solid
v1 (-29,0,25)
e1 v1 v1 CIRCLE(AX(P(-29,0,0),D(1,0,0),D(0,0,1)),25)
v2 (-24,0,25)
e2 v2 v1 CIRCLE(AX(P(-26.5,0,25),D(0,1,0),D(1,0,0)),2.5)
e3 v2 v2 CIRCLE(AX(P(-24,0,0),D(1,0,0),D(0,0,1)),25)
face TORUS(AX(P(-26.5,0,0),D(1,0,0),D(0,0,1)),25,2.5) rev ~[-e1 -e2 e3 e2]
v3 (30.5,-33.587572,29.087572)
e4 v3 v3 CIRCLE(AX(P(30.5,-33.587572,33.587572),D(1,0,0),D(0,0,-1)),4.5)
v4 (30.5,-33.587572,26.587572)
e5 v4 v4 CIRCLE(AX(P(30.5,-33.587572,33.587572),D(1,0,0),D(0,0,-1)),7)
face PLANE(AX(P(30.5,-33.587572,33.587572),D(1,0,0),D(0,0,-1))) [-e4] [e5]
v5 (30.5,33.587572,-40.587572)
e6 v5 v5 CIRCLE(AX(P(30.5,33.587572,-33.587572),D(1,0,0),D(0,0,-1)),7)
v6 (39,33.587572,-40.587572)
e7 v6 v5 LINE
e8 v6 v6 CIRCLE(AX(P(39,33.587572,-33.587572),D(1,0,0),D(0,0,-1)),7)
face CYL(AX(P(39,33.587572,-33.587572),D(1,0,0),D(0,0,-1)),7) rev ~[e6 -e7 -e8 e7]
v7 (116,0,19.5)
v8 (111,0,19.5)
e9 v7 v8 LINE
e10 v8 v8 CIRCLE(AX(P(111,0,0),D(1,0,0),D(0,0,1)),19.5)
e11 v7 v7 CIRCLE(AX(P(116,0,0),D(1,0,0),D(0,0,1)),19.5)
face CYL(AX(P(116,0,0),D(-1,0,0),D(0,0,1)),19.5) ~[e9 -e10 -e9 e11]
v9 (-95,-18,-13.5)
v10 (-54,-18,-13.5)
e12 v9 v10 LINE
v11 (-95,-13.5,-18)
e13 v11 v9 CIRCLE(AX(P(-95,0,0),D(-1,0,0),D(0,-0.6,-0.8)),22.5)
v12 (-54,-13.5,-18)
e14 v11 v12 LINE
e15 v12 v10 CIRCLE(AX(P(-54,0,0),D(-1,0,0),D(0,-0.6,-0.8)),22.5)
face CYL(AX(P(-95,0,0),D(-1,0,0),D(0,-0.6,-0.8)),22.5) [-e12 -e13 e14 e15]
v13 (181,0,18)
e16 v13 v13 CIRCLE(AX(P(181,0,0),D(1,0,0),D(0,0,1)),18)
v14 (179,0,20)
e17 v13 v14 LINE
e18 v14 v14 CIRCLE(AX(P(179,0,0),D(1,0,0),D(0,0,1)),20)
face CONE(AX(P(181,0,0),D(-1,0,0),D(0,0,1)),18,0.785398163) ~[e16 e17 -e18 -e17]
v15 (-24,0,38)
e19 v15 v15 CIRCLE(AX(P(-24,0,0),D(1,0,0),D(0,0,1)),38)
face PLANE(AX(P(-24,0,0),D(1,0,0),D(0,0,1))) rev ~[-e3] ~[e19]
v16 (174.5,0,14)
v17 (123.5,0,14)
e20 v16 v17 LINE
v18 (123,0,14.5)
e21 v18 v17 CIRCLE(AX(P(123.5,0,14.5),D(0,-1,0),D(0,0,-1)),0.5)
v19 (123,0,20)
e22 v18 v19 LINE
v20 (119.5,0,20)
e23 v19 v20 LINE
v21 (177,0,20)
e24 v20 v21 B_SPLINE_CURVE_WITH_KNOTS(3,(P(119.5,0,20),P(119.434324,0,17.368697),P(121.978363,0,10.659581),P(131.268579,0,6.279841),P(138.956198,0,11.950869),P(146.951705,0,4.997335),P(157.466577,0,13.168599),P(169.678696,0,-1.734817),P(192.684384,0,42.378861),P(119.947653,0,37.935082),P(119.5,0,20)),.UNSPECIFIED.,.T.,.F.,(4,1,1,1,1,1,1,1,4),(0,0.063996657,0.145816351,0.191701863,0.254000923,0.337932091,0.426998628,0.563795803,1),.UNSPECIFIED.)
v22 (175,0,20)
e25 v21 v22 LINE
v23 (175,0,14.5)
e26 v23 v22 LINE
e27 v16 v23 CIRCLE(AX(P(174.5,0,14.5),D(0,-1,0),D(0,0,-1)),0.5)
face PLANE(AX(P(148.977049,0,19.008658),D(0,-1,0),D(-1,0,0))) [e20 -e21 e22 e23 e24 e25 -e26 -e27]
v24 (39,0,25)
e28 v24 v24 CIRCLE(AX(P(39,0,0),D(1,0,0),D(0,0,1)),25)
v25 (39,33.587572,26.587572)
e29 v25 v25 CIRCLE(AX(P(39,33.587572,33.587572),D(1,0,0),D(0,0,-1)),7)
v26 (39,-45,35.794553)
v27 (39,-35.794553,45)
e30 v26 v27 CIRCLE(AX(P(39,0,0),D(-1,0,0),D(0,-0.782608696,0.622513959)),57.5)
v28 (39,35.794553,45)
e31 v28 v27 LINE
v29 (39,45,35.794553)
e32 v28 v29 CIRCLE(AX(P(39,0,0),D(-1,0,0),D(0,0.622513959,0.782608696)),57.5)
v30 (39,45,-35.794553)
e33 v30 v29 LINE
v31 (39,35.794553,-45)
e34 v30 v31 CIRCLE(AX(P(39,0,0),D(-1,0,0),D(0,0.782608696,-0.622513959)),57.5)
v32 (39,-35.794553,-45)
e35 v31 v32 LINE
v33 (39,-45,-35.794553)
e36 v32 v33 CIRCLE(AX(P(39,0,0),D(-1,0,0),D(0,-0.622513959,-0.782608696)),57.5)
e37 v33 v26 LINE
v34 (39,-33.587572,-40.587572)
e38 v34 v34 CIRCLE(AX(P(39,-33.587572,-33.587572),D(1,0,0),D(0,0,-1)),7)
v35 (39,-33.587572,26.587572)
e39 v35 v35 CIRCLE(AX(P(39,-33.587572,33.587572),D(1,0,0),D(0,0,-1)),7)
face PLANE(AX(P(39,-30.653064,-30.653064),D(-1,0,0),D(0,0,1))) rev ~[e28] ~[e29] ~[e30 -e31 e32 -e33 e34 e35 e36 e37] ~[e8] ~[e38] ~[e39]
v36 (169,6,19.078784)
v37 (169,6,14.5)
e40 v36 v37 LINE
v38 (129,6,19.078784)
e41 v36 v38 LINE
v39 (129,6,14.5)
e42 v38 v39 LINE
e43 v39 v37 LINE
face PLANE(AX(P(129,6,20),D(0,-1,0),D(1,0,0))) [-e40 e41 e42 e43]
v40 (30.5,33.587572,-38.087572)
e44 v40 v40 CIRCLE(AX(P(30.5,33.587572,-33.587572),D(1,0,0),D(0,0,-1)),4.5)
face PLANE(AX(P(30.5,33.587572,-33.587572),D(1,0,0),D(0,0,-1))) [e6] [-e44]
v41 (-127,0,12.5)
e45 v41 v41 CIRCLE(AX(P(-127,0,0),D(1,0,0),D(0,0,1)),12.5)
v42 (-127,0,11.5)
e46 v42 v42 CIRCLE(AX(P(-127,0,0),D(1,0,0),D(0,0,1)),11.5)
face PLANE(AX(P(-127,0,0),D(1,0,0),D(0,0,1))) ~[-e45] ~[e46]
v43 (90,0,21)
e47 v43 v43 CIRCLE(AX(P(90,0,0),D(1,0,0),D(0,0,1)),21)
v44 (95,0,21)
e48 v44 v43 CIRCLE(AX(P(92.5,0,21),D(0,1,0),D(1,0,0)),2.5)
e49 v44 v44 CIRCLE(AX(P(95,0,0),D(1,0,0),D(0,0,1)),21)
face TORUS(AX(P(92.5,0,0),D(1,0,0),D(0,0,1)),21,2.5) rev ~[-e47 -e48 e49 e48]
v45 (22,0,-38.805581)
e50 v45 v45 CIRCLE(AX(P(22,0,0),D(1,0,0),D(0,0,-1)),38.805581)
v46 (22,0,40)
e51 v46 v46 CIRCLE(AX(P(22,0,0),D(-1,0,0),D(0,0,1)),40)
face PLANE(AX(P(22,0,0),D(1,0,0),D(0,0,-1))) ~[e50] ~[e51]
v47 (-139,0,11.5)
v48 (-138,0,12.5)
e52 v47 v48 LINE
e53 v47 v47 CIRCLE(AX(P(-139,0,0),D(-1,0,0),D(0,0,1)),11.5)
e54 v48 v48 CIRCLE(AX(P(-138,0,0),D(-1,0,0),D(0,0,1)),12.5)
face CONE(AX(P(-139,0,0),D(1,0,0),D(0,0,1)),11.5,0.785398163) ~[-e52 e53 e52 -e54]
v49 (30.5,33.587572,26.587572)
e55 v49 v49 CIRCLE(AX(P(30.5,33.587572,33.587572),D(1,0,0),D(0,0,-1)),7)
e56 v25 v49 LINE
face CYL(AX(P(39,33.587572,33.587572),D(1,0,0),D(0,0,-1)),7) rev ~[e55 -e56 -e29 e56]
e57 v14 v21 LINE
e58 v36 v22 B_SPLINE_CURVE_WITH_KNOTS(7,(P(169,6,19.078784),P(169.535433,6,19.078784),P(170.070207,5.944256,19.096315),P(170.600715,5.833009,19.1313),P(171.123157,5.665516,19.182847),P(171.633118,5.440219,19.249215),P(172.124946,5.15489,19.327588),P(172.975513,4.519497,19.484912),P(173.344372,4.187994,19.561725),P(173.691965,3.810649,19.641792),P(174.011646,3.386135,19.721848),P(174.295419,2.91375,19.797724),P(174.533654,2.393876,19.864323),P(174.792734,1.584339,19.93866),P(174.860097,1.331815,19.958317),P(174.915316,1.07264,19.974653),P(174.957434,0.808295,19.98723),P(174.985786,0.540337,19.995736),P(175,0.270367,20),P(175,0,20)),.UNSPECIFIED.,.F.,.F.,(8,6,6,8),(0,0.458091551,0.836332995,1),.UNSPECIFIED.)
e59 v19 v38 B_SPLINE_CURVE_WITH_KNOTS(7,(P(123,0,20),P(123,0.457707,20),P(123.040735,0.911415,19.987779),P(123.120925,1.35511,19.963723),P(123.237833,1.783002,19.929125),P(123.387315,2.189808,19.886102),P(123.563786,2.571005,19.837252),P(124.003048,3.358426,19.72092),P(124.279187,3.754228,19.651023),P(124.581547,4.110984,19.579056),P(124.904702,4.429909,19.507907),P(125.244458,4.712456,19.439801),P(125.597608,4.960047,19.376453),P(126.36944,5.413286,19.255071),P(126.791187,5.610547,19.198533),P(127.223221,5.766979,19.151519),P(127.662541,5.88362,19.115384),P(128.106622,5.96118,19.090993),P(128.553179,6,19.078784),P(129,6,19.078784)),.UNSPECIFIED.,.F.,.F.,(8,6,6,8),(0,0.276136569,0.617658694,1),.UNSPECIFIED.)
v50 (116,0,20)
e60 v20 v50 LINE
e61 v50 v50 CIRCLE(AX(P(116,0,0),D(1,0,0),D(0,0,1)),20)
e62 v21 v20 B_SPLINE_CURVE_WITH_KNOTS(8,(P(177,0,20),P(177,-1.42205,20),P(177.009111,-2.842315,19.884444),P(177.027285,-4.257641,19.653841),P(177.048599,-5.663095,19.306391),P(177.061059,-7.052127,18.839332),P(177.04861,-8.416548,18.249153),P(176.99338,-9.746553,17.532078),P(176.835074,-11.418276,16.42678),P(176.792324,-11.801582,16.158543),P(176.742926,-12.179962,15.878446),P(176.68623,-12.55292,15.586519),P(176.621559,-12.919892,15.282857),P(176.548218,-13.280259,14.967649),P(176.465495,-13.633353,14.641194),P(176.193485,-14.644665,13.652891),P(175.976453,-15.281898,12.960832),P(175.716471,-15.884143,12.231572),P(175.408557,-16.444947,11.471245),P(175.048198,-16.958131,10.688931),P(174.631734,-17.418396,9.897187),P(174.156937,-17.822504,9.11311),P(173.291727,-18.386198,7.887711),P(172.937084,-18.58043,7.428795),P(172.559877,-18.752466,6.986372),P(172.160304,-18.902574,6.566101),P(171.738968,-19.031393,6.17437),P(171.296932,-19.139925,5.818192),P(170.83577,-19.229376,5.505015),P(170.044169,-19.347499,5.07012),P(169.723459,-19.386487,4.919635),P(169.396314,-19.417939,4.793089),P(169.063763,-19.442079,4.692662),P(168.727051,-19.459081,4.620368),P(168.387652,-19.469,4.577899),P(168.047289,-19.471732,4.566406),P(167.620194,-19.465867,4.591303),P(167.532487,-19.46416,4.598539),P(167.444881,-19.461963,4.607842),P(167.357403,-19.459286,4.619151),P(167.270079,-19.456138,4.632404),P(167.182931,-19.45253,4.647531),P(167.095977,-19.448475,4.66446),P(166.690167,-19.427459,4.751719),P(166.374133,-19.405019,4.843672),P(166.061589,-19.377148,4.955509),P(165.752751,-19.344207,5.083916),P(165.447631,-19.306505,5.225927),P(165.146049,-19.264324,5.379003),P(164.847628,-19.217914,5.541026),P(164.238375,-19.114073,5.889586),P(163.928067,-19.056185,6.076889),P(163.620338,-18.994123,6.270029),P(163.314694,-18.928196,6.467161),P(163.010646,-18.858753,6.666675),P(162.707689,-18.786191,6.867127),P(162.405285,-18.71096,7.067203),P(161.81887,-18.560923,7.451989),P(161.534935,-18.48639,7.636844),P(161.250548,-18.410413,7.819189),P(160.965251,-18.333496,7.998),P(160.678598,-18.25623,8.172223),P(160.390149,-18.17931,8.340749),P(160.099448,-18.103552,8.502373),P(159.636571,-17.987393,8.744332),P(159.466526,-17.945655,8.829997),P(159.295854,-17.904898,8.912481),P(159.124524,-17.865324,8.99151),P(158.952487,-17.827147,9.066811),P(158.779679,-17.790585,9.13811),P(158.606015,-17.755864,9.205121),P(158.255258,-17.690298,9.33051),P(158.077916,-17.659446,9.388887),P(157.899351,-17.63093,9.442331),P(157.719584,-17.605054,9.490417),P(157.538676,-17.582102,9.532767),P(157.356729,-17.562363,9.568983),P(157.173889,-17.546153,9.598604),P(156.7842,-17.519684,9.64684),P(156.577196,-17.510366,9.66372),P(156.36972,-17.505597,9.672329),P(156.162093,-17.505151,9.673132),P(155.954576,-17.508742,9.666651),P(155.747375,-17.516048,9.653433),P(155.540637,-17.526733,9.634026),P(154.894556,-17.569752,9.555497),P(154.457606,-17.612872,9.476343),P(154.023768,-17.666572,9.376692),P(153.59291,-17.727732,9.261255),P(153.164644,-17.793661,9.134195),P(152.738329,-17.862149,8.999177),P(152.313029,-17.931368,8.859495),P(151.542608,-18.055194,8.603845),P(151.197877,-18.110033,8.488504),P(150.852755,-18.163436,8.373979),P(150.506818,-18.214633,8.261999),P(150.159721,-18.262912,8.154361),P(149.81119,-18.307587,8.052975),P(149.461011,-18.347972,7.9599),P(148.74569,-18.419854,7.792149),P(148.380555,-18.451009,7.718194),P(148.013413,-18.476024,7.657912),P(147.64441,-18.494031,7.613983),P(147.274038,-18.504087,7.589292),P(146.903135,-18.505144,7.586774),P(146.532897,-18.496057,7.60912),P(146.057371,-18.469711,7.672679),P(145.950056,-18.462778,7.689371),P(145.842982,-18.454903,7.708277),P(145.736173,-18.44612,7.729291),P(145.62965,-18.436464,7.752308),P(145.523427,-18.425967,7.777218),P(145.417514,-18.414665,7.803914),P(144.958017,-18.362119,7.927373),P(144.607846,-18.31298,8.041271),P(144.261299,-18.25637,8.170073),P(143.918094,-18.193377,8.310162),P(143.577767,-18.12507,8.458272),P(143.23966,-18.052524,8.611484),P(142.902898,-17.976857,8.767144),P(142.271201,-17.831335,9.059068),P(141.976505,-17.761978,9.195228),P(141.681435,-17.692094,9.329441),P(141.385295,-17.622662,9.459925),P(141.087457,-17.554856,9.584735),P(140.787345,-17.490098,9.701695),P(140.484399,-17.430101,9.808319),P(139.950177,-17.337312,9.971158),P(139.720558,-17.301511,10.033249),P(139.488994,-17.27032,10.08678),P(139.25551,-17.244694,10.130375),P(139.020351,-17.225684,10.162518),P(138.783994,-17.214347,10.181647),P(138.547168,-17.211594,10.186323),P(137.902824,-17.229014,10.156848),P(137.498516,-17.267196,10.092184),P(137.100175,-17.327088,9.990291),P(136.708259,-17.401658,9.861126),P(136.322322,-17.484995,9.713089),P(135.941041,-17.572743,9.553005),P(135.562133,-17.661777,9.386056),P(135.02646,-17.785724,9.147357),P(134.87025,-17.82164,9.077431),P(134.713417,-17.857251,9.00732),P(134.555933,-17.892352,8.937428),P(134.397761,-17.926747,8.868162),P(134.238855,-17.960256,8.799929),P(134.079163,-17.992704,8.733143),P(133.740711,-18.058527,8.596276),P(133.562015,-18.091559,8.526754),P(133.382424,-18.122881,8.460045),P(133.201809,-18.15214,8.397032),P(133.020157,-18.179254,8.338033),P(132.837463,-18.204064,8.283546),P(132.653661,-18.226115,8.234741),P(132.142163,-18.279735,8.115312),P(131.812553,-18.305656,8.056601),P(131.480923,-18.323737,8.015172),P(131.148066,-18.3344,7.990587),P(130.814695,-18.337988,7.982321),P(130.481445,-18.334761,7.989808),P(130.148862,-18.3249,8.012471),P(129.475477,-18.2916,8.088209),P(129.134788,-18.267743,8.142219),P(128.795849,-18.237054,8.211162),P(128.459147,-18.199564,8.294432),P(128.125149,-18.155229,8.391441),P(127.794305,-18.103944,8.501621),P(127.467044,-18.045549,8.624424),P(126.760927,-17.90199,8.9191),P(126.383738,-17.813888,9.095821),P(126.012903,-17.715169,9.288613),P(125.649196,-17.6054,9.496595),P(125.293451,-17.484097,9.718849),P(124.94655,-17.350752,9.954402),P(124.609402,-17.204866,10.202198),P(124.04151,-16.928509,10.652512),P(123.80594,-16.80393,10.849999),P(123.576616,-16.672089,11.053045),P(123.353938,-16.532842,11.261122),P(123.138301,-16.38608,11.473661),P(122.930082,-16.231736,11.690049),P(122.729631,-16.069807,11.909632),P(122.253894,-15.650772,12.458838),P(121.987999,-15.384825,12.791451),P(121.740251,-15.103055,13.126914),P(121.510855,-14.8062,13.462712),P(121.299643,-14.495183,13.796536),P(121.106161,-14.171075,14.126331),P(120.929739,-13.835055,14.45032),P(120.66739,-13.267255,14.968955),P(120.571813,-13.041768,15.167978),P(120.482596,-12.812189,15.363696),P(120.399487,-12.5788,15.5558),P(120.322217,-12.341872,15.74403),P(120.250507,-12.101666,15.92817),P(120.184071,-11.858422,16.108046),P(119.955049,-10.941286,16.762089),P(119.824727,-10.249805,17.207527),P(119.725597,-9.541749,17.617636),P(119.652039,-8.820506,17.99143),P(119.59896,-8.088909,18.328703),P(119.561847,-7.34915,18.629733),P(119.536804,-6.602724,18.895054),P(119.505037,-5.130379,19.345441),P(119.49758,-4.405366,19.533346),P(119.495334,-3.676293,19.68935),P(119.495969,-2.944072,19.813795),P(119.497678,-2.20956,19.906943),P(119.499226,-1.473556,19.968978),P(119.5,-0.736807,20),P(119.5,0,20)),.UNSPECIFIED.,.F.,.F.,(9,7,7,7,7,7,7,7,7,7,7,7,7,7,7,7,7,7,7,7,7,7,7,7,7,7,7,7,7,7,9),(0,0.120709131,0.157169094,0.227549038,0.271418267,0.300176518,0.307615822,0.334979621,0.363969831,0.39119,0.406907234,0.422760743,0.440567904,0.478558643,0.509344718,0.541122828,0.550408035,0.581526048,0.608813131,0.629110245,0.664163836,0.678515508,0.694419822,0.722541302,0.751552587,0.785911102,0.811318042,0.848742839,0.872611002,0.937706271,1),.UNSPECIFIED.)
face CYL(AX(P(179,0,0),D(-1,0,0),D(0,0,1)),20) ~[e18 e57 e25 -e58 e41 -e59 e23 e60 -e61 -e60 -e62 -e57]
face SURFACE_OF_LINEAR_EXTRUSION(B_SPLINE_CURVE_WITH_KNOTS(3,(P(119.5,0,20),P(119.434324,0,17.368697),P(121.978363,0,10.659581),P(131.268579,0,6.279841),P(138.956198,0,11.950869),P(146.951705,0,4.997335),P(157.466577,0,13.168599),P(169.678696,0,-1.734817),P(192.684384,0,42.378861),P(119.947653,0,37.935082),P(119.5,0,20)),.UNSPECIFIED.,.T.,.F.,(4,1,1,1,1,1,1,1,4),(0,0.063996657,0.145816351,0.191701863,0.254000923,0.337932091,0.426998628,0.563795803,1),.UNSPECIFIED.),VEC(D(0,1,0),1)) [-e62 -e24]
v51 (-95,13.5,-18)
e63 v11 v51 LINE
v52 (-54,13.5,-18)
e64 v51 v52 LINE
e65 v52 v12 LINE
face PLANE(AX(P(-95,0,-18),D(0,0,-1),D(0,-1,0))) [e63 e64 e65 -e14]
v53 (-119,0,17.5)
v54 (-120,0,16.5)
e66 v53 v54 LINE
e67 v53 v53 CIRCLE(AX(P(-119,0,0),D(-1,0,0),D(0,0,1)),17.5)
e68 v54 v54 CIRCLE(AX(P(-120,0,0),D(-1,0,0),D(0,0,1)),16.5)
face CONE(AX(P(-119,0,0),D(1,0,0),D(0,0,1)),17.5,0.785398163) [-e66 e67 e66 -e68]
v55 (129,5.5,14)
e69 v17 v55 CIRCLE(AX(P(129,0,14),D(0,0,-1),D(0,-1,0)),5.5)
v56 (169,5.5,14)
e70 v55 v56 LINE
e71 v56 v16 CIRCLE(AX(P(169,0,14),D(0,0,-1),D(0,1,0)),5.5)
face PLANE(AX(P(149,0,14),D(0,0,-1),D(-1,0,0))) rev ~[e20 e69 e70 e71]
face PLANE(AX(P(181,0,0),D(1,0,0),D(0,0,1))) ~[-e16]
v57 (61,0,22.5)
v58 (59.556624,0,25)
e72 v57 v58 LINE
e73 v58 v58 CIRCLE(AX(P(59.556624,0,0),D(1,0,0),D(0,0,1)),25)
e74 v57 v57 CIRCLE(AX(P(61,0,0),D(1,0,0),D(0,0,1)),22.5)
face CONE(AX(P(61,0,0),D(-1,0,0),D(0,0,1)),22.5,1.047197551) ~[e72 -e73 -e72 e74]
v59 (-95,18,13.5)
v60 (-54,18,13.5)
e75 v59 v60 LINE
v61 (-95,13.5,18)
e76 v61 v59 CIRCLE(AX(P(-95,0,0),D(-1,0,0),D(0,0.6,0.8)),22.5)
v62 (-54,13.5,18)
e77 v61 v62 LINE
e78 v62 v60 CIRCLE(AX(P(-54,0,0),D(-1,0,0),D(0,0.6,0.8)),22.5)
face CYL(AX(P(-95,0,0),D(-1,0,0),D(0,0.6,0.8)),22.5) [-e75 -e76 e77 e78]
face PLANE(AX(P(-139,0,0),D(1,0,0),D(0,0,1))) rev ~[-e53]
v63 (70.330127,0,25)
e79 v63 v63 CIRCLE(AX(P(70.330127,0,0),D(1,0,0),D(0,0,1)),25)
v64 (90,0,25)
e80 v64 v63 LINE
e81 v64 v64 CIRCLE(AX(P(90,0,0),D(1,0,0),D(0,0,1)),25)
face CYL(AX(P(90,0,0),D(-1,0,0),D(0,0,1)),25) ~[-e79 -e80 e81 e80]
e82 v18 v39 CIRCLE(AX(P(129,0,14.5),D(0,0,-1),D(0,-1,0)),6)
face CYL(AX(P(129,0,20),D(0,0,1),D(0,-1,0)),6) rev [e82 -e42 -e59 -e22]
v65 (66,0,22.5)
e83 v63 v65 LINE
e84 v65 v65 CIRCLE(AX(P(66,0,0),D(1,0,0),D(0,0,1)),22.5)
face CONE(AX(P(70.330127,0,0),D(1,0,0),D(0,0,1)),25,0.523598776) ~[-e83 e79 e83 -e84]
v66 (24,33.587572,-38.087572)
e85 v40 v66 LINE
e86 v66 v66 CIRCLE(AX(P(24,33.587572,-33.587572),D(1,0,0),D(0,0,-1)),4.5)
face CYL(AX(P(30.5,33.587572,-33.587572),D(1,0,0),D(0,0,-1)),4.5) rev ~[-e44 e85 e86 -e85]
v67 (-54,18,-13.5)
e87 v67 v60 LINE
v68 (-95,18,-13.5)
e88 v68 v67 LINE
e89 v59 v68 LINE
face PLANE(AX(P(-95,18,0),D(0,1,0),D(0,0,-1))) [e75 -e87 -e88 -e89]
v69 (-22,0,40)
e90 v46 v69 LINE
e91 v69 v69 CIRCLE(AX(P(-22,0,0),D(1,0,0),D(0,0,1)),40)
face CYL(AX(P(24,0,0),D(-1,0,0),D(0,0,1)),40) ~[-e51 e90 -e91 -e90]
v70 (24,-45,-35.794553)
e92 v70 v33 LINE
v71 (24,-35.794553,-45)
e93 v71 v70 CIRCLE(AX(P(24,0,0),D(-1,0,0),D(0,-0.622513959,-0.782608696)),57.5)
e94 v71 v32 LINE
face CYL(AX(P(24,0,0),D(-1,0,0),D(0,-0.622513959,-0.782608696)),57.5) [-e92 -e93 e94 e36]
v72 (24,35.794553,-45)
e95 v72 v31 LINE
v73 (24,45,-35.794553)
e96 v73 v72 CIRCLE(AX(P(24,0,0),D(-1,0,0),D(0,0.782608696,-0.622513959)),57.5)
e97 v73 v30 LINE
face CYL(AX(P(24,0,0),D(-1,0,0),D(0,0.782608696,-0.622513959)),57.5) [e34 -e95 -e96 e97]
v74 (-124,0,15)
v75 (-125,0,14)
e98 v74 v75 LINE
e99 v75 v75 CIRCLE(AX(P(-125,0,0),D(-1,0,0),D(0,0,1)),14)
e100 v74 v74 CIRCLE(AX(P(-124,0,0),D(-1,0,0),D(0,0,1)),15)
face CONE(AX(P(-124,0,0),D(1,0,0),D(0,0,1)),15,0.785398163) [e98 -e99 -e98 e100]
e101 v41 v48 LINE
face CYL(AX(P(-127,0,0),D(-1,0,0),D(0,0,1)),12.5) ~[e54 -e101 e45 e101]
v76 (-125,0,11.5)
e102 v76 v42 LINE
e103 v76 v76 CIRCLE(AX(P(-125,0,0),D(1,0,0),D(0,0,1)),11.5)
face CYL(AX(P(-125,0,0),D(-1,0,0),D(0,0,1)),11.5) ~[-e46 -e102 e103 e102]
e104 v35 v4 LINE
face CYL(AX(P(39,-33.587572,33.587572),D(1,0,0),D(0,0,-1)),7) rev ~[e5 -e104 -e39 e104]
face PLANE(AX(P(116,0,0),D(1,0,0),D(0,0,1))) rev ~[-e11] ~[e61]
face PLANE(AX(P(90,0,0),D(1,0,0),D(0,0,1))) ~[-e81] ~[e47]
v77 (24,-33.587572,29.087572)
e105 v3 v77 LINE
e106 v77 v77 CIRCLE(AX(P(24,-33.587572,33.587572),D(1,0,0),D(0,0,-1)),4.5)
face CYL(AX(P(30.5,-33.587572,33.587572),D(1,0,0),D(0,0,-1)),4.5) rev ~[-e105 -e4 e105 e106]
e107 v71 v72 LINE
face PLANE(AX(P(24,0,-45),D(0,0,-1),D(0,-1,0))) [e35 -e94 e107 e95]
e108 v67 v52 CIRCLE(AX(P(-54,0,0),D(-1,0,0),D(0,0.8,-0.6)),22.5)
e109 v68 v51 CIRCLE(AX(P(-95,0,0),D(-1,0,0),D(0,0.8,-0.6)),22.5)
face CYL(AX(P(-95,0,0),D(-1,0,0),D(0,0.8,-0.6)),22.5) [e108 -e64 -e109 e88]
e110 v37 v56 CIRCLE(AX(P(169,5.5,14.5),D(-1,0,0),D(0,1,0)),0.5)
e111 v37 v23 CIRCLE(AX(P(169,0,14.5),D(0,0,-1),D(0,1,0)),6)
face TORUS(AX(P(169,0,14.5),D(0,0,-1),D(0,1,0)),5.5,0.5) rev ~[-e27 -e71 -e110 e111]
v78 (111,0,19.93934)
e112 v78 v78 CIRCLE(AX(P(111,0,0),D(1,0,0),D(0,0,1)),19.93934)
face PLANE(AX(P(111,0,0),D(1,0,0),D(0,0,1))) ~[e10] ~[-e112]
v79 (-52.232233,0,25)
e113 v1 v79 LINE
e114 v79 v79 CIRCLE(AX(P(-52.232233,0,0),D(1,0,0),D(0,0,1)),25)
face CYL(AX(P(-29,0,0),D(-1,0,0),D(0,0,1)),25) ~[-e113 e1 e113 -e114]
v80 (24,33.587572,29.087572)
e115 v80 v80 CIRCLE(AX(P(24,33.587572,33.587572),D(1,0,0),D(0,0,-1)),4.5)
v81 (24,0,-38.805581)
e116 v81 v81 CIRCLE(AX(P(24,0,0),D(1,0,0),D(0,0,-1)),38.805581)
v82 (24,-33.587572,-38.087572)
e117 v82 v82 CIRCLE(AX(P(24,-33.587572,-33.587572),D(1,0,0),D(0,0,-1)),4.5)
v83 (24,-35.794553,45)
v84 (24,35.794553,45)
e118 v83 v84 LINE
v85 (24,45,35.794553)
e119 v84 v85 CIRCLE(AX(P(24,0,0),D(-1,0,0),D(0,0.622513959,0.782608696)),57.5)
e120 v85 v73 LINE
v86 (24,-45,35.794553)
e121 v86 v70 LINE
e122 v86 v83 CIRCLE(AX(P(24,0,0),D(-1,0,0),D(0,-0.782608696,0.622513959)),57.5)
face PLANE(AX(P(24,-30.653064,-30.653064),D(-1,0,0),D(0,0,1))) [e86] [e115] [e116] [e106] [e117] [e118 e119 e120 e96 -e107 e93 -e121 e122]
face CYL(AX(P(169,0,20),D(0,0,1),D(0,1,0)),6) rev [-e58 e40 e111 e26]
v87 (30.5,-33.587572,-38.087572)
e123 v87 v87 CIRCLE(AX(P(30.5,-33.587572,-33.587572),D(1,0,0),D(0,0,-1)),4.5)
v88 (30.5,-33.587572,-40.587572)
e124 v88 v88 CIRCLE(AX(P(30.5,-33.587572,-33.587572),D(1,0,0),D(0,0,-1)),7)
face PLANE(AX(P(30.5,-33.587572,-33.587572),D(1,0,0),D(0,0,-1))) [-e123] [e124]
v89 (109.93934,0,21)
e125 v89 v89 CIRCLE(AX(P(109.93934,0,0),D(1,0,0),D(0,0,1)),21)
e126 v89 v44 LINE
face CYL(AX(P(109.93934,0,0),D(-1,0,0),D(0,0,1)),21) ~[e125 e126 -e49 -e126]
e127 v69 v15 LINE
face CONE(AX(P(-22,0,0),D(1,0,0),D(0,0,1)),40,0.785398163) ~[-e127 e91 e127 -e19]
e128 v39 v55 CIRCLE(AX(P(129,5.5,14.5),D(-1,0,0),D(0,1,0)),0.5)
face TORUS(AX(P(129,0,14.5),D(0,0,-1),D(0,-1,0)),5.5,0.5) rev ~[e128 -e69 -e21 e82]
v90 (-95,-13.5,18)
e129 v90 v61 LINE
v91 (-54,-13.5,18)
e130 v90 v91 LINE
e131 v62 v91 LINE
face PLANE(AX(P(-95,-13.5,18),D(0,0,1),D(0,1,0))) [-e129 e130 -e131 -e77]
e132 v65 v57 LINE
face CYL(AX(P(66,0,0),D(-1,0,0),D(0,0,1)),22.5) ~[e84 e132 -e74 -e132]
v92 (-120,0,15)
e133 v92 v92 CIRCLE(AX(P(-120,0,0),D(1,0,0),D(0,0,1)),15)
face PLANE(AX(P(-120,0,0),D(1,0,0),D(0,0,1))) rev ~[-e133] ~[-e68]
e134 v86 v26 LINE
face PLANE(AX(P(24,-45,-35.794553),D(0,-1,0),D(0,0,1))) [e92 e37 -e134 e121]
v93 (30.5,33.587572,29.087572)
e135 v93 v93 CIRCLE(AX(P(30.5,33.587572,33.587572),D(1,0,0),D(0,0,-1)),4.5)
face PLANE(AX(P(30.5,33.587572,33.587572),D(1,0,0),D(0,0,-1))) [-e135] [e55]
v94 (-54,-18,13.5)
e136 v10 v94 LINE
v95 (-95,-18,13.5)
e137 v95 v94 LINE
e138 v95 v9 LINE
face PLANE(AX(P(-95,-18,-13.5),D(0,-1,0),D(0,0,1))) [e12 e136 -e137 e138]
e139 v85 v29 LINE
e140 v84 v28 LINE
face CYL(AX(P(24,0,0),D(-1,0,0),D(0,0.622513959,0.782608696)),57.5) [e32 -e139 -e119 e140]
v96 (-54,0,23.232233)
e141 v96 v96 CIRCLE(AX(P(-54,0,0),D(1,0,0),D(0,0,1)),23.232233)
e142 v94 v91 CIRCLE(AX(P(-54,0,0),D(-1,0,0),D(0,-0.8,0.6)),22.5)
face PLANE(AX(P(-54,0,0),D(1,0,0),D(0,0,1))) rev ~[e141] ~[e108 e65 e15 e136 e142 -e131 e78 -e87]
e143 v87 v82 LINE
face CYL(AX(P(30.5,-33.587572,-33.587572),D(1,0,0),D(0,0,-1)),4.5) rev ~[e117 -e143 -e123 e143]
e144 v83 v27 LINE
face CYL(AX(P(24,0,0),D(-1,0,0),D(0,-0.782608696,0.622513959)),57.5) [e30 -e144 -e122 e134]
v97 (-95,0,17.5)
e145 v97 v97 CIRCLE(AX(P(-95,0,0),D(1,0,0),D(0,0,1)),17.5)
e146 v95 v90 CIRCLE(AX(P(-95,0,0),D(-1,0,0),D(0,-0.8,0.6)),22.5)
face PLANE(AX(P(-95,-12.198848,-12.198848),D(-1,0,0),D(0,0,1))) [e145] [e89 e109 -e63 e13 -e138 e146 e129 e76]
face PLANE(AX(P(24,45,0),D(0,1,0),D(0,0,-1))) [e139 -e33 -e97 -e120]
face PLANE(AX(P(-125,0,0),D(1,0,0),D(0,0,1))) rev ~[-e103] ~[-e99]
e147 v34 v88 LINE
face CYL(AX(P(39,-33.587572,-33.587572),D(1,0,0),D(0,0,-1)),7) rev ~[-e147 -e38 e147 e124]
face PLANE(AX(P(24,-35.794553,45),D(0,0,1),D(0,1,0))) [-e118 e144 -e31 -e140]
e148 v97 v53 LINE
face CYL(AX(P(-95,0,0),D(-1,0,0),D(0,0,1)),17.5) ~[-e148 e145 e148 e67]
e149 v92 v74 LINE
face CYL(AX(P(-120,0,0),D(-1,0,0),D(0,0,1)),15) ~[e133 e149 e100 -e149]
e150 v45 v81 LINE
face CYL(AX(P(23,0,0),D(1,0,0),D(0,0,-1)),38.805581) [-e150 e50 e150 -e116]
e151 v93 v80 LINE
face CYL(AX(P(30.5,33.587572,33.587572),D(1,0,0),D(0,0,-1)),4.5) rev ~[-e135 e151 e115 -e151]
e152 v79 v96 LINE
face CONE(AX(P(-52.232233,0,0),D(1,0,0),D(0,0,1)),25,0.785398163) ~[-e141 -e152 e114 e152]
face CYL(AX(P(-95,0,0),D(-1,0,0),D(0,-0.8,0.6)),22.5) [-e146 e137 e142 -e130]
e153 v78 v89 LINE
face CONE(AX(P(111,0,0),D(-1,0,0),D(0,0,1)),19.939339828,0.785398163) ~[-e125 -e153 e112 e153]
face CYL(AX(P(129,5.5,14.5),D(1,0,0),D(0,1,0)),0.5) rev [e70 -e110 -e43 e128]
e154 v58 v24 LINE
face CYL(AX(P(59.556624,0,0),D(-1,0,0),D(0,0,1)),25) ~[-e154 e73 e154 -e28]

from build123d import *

# Parameters (mm, degrees)
BOSS_EXTRUDE2_DEPTH = 41
BOSS_EXTRUDE3_DEPTH = 15
SKETCH6_R           = 7
CUT_EXTRUDE1_DEPTH  = 8.5
SKETCH7_R           = 4.5
CUT_EXTRUDE3_DEPTH  = 182.053168986
CUT_EXTRUDE4_START  = 20
CUT_EXTRUDE4_DEPTH  = 6
FILLET1_R           = 0.5
SKETCH9_W           = 2
SKETCH9_H           = 2
CUT_EXTRUDE5_DEPTH  = 67


with BuildPart() as part:
    # Sketch1 → Revolve4 (revolve)
    with BuildSketch(Plane.XY, mode=Mode.PRIVATE) as revolve4_sk:
        with BuildLine():
            Line((0, 0), (0, 40))
            Line((0, 40), (-22, 40))
            Line((-22, 40), (-24, 38))
            Line((-24, 38), (-24, 25))
            ThreePointArc((-24, 25), (-26.5, 22.5), (-29, 25))
            Line((-29, 25), (-52.232233047, 25))
            Line((-52.232233047, 25), (-54, 23.232233047))
            Line((-54, 23.232233047), (-54, 18))
            Line((-54, 18), (-95, 18))
            Line((-95, 18), (-95, 17.5))
            Line((-95, 17.5), (-120, 17.5))
            Line((-120, 17.5), (-120, 15))
            Line((-120, 15), (-125, 15))
            Line((-125, 15), (-125, 11.5))
            Line((-125, 11.5), (-127, 11.5))
            Line((-127, 11.5), (-127, 12.5))
            Line((-127, 12.5), (-139, 12.5))
            Line((-139, 12.5), (-139, 0))
            Line((-139, 0), (0, 0))
        make_face()
        with BuildLine():
            Line((24, 40), (0, 40))
            Line((0, 40), (0, 0))
            Line((0, 0), (181, 0))
            Line((181, 0), (181, 18))
            Line((181, 18), (179, 20))
            Line((179, 20), (116, 20))
            Line((116, 20), (116, 19.5))
            Line((116, 19.5), (111, 19.5))
            Line((111, 19.5), (111, 19.939339828))
            Line((111, 19.939339828), (109.939339828, 21))
            Line((109.939339828, 21), (95, 21))
            ThreePointArc((95, 21), (92.5, 18.5), (90, 21))
            Line((90, 21), (90, 25))
            Line((90, 25), (70.330127019, 25))
            Line((70.330127019, 25), (66, 22.5))
            Line((66, 22.5), (61, 22.5))
            Line((61, 22.5), (59.556624327, 25))
            Line((59.556624327, 25), (39, 25))
            Line((39, 25), (39, 45))
            Line((39, 45), (24, 45))
            Line((24, 45), (24, 40))
        make_face()
    revolve(revolve4_sk.sketch.rotate(Axis((-674.916528026, 0, 0), (1, 0, 0)), 90), axis=Axis((-674.916528026, 0, 0), (1, 0, 0)))

    # Sketch2 → Cut-Revolve1 (revolve, cut)
    with BuildSketch(Plane(origin=(0, 0, 0), x_dir=(1, 0, 0), z_dir=(0, 1, 0)), mode=Mode.PRIVATE) as cut_revolve1_sk:
        Polygon((-139, 12.5), (-139, 11.5), (-138, 12.5), align=None)
        Polygon((-125, 15), (-124, 15), (-125, 14), align=None)
        Polygon((-120, 17.5), (-119, 17.5), (-120, 16.5), align=None)
    revolve(cut_revolve1_sk.sketch.rotate(Axis((-139, 0, 0), (-1, 0, 0)), 180), axis=Axis((-139, 0, 0), (-1, 0, 0)), mode=Mode.SUBTRACT)

    # Sketch4 → Boss-Extrude2 (add)
    with BuildSketch(Plane.ZY.offset(95)):
        with BuildLine():
            ThreePointArc((-18, -13.5), (-15.909902577, -15.909902577), (-13.5, -18))
            Line((-13.5, -18), (0, -18))
            ThreePointArc((0, -18), (-12.727922051, -12.727922072), (-18, -3.1e-08))
            Line((-18, -3.1e-08), (-18, -13.5))
        make_face()
        with BuildLine():
            ThreePointArc((18, 0), (12.727922061, -12.727922061), (0, -18))
            Line((0, -18), (13.5, -18))
            ThreePointArc((13.5, -18), (15.909902577, -15.909902577), (18, -13.5))
            Line((18, -13.5), (18, 0))
        make_face()
        with BuildLine():
            Line((-18, 13.5), (-18, -3.1e-08))
            ThreePointArc((-18, -3.1e-08), (-12.727922081, 12.727922041), (-2.6e-08, 18))
            Line((-2.6e-08, 18), (-13.5, 18))
            ThreePointArc((-13.5, 18), (-15.909902577, 15.909902577), (-18, 13.5))
        make_face()
        with BuildLine():
            ThreePointArc((-2.6e-08, 18), (12.727922052, 12.72792207), (18, 0))
            Line((18, 0), (18, 13.5))
            ThreePointArc((18, 13.5), (15.909902577, 15.909902577), (13.5, 18))
            Line((13.5, 18), (-2.6e-08, 18))
        make_face()
    extrude(amount=-BOSS_EXTRUDE2_DEPTH)

    # Sketch5 → Boss-Extrude3 (add)
    with BuildSketch(Plane.ZY.offset(-24)):
        with BuildLine():
            ThreePointArc((-45, -35.794552658), (-40.658639918, -40.658639918), (-35.794552658, -45))
            Line((-35.794552658, -45), (5.7e-08, -45))
            ThreePointArc((5.7e-08, -45), (-31.819805166, -31.819805141), (-45, 9.2e-08))
            Line((-45, 9.2e-08), (-45, -35.794552658))
        make_face()
        with BuildLine():
            ThreePointArc((45, 0), (31.819805173, -31.819805133), (5.7e-08, -45))
            Line((5.7e-08, -45), (35.794552658, -45))
            ThreePointArc((35.794552658, -45), (40.658639918, -40.658639918), (45, -35.794552658))
            Line((45, -35.794552658), (45, 0))
        make_face()
        with BuildLine():
            Line((-45, 35.794552658), (-45, 9.2e-08))
            ThreePointArc((-45, 9.2e-08), (-31.819805133, 31.819805173), (-3.5e-08, 45))
            Line((-3.5e-08, 45), (-35.794552658, 45))
            ThreePointArc((-35.794552658, 45), (-40.658639918, 40.658639918), (-45, 35.794552658))
        make_face()
        with BuildLine():
            ThreePointArc((-3.5e-08, 45), (31.819805141, 31.819805166), (45, 0))
            Line((45, 0), (45, 35.794552658))
            ThreePointArc((45, 35.794552658), (40.658639918, 40.658639918), (35.794552658, 45))
            Line((35.794552658, 45), (-3.5e-08, 45))
        make_face()
    extrude(amount=-BOSS_EXTRUDE3_DEPTH)

    # Sketch6 → Cut-Extrude1 (cut)
    with BuildSketch(Plane(origin=(39, 0, 0), x_dir=(0, 0, -1), z_dir=(1, 0, 0))):
        with Locations((33.587572106, -33.587572106)):
            Circle(SKETCH6_R)
        with Locations((-33.587572106, -33.587572106)):
            Circle(SKETCH6_R)
        with Locations((-33.587572106, 33.587572106)):
            Circle(SKETCH6_R)
        with Locations((33.587572106, 33.587572106)):
            Circle(SKETCH6_R)
    extrude(amount=-CUT_EXTRUDE1_DEPTH, mode=Mode.SUBTRACT)

    # Sketch7 → Cut-Extrude3 (cut, through all)
    with BuildSketch(Plane(origin=(30.5, 0, 0), x_dir=(0, 0, -1), z_dir=(1, 0, 0))):
        with Locations((-33.587572106, 33.587572106)):
            Circle(SKETCH7_R)
        with Locations((33.587572106, 33.587572106)):
            Circle(SKETCH7_R)
        with Locations((33.587572106, -33.587572106)):
            Circle(SKETCH7_R)
        with Locations((-33.587572106, -33.587572106)):
            Circle(SKETCH7_R)
    extrude(amount=-CUT_EXTRUDE3_DEPTH, mode=Mode.SUBTRACT)

    # Sketch8 → Cut-Extrude4 (cut)
    with BuildSketch(Plane.XY.offset(CUT_EXTRUDE4_START)):
        with BuildLine():
            Line((129, 6), (169, 6))
            ThreePointArc((169, 6), (175, 0), (169, -6))
            Line((169, -6), (129, -6))
            ThreePointArc((129, -6), (123, 0), (129, 6))
        make_face()
    extrude(amount=-CUT_EXTRUDE4_DEPTH, mode=Mode.SUBTRACT)

    # Fillet1
    fillet1_edges = [part.edges().sort_by_distance(p)[0] for p in [
        (123, 0, 14),
        (149, 6, 14),
        (175, 0, 14),
        (149, -6, 14),
    ]]
    fillet(fillet1_edges, radius=FILLET1_R)

    # Sketch9 → Cut-Revolve4 (revolve, cut)
    with BuildSketch(Plane(origin=(0, 0, 0), x_dir=(1, 0, 0), z_dir=(0, 1, 0))):
        with Locations((23, 39.805580606)):
            Rectangle(SKETCH9_W, SKETCH9_H)
    revolve(axis=Axis((0, 0, 0), (1, 0, 0)), mode=Mode.SUBTRACT)

    # Sketch10 → Cut-Extrude5 (cut)
    with BuildSketch(Plane(origin=(0, 0, 0), x_dir=(1, 0, 0), z_dir=(0, 1, 0))):
        with BuildLine():
            add(Edge.make_bspline(
                [(119.5, -20), (119.4343237, -17.368697319), (121.978363223, -10.659580725), (131.268578529, -6.279841391), (138.956198371, -11.950868732), (146.951705328, -4.997334987), (157.466576854, -13.168599305), (169.678696183, 1.734816973), (192.684384389, -42.378861196), (119.947652719, -37.935081581), (119.5, -20)],
                knots=[0, 0, 0, 0, 0.063996657, 0.145816351, 0.191701863, 0.254000923, 0.337932091, 0.426998628, 0.563795803, 1, 1, 1, 1], degree=3))
        make_face()
    extrude(amount=-CUT_EXTRUDE5_DEPTH, mode=Mode.SUBTRACT)


solid = part.part
